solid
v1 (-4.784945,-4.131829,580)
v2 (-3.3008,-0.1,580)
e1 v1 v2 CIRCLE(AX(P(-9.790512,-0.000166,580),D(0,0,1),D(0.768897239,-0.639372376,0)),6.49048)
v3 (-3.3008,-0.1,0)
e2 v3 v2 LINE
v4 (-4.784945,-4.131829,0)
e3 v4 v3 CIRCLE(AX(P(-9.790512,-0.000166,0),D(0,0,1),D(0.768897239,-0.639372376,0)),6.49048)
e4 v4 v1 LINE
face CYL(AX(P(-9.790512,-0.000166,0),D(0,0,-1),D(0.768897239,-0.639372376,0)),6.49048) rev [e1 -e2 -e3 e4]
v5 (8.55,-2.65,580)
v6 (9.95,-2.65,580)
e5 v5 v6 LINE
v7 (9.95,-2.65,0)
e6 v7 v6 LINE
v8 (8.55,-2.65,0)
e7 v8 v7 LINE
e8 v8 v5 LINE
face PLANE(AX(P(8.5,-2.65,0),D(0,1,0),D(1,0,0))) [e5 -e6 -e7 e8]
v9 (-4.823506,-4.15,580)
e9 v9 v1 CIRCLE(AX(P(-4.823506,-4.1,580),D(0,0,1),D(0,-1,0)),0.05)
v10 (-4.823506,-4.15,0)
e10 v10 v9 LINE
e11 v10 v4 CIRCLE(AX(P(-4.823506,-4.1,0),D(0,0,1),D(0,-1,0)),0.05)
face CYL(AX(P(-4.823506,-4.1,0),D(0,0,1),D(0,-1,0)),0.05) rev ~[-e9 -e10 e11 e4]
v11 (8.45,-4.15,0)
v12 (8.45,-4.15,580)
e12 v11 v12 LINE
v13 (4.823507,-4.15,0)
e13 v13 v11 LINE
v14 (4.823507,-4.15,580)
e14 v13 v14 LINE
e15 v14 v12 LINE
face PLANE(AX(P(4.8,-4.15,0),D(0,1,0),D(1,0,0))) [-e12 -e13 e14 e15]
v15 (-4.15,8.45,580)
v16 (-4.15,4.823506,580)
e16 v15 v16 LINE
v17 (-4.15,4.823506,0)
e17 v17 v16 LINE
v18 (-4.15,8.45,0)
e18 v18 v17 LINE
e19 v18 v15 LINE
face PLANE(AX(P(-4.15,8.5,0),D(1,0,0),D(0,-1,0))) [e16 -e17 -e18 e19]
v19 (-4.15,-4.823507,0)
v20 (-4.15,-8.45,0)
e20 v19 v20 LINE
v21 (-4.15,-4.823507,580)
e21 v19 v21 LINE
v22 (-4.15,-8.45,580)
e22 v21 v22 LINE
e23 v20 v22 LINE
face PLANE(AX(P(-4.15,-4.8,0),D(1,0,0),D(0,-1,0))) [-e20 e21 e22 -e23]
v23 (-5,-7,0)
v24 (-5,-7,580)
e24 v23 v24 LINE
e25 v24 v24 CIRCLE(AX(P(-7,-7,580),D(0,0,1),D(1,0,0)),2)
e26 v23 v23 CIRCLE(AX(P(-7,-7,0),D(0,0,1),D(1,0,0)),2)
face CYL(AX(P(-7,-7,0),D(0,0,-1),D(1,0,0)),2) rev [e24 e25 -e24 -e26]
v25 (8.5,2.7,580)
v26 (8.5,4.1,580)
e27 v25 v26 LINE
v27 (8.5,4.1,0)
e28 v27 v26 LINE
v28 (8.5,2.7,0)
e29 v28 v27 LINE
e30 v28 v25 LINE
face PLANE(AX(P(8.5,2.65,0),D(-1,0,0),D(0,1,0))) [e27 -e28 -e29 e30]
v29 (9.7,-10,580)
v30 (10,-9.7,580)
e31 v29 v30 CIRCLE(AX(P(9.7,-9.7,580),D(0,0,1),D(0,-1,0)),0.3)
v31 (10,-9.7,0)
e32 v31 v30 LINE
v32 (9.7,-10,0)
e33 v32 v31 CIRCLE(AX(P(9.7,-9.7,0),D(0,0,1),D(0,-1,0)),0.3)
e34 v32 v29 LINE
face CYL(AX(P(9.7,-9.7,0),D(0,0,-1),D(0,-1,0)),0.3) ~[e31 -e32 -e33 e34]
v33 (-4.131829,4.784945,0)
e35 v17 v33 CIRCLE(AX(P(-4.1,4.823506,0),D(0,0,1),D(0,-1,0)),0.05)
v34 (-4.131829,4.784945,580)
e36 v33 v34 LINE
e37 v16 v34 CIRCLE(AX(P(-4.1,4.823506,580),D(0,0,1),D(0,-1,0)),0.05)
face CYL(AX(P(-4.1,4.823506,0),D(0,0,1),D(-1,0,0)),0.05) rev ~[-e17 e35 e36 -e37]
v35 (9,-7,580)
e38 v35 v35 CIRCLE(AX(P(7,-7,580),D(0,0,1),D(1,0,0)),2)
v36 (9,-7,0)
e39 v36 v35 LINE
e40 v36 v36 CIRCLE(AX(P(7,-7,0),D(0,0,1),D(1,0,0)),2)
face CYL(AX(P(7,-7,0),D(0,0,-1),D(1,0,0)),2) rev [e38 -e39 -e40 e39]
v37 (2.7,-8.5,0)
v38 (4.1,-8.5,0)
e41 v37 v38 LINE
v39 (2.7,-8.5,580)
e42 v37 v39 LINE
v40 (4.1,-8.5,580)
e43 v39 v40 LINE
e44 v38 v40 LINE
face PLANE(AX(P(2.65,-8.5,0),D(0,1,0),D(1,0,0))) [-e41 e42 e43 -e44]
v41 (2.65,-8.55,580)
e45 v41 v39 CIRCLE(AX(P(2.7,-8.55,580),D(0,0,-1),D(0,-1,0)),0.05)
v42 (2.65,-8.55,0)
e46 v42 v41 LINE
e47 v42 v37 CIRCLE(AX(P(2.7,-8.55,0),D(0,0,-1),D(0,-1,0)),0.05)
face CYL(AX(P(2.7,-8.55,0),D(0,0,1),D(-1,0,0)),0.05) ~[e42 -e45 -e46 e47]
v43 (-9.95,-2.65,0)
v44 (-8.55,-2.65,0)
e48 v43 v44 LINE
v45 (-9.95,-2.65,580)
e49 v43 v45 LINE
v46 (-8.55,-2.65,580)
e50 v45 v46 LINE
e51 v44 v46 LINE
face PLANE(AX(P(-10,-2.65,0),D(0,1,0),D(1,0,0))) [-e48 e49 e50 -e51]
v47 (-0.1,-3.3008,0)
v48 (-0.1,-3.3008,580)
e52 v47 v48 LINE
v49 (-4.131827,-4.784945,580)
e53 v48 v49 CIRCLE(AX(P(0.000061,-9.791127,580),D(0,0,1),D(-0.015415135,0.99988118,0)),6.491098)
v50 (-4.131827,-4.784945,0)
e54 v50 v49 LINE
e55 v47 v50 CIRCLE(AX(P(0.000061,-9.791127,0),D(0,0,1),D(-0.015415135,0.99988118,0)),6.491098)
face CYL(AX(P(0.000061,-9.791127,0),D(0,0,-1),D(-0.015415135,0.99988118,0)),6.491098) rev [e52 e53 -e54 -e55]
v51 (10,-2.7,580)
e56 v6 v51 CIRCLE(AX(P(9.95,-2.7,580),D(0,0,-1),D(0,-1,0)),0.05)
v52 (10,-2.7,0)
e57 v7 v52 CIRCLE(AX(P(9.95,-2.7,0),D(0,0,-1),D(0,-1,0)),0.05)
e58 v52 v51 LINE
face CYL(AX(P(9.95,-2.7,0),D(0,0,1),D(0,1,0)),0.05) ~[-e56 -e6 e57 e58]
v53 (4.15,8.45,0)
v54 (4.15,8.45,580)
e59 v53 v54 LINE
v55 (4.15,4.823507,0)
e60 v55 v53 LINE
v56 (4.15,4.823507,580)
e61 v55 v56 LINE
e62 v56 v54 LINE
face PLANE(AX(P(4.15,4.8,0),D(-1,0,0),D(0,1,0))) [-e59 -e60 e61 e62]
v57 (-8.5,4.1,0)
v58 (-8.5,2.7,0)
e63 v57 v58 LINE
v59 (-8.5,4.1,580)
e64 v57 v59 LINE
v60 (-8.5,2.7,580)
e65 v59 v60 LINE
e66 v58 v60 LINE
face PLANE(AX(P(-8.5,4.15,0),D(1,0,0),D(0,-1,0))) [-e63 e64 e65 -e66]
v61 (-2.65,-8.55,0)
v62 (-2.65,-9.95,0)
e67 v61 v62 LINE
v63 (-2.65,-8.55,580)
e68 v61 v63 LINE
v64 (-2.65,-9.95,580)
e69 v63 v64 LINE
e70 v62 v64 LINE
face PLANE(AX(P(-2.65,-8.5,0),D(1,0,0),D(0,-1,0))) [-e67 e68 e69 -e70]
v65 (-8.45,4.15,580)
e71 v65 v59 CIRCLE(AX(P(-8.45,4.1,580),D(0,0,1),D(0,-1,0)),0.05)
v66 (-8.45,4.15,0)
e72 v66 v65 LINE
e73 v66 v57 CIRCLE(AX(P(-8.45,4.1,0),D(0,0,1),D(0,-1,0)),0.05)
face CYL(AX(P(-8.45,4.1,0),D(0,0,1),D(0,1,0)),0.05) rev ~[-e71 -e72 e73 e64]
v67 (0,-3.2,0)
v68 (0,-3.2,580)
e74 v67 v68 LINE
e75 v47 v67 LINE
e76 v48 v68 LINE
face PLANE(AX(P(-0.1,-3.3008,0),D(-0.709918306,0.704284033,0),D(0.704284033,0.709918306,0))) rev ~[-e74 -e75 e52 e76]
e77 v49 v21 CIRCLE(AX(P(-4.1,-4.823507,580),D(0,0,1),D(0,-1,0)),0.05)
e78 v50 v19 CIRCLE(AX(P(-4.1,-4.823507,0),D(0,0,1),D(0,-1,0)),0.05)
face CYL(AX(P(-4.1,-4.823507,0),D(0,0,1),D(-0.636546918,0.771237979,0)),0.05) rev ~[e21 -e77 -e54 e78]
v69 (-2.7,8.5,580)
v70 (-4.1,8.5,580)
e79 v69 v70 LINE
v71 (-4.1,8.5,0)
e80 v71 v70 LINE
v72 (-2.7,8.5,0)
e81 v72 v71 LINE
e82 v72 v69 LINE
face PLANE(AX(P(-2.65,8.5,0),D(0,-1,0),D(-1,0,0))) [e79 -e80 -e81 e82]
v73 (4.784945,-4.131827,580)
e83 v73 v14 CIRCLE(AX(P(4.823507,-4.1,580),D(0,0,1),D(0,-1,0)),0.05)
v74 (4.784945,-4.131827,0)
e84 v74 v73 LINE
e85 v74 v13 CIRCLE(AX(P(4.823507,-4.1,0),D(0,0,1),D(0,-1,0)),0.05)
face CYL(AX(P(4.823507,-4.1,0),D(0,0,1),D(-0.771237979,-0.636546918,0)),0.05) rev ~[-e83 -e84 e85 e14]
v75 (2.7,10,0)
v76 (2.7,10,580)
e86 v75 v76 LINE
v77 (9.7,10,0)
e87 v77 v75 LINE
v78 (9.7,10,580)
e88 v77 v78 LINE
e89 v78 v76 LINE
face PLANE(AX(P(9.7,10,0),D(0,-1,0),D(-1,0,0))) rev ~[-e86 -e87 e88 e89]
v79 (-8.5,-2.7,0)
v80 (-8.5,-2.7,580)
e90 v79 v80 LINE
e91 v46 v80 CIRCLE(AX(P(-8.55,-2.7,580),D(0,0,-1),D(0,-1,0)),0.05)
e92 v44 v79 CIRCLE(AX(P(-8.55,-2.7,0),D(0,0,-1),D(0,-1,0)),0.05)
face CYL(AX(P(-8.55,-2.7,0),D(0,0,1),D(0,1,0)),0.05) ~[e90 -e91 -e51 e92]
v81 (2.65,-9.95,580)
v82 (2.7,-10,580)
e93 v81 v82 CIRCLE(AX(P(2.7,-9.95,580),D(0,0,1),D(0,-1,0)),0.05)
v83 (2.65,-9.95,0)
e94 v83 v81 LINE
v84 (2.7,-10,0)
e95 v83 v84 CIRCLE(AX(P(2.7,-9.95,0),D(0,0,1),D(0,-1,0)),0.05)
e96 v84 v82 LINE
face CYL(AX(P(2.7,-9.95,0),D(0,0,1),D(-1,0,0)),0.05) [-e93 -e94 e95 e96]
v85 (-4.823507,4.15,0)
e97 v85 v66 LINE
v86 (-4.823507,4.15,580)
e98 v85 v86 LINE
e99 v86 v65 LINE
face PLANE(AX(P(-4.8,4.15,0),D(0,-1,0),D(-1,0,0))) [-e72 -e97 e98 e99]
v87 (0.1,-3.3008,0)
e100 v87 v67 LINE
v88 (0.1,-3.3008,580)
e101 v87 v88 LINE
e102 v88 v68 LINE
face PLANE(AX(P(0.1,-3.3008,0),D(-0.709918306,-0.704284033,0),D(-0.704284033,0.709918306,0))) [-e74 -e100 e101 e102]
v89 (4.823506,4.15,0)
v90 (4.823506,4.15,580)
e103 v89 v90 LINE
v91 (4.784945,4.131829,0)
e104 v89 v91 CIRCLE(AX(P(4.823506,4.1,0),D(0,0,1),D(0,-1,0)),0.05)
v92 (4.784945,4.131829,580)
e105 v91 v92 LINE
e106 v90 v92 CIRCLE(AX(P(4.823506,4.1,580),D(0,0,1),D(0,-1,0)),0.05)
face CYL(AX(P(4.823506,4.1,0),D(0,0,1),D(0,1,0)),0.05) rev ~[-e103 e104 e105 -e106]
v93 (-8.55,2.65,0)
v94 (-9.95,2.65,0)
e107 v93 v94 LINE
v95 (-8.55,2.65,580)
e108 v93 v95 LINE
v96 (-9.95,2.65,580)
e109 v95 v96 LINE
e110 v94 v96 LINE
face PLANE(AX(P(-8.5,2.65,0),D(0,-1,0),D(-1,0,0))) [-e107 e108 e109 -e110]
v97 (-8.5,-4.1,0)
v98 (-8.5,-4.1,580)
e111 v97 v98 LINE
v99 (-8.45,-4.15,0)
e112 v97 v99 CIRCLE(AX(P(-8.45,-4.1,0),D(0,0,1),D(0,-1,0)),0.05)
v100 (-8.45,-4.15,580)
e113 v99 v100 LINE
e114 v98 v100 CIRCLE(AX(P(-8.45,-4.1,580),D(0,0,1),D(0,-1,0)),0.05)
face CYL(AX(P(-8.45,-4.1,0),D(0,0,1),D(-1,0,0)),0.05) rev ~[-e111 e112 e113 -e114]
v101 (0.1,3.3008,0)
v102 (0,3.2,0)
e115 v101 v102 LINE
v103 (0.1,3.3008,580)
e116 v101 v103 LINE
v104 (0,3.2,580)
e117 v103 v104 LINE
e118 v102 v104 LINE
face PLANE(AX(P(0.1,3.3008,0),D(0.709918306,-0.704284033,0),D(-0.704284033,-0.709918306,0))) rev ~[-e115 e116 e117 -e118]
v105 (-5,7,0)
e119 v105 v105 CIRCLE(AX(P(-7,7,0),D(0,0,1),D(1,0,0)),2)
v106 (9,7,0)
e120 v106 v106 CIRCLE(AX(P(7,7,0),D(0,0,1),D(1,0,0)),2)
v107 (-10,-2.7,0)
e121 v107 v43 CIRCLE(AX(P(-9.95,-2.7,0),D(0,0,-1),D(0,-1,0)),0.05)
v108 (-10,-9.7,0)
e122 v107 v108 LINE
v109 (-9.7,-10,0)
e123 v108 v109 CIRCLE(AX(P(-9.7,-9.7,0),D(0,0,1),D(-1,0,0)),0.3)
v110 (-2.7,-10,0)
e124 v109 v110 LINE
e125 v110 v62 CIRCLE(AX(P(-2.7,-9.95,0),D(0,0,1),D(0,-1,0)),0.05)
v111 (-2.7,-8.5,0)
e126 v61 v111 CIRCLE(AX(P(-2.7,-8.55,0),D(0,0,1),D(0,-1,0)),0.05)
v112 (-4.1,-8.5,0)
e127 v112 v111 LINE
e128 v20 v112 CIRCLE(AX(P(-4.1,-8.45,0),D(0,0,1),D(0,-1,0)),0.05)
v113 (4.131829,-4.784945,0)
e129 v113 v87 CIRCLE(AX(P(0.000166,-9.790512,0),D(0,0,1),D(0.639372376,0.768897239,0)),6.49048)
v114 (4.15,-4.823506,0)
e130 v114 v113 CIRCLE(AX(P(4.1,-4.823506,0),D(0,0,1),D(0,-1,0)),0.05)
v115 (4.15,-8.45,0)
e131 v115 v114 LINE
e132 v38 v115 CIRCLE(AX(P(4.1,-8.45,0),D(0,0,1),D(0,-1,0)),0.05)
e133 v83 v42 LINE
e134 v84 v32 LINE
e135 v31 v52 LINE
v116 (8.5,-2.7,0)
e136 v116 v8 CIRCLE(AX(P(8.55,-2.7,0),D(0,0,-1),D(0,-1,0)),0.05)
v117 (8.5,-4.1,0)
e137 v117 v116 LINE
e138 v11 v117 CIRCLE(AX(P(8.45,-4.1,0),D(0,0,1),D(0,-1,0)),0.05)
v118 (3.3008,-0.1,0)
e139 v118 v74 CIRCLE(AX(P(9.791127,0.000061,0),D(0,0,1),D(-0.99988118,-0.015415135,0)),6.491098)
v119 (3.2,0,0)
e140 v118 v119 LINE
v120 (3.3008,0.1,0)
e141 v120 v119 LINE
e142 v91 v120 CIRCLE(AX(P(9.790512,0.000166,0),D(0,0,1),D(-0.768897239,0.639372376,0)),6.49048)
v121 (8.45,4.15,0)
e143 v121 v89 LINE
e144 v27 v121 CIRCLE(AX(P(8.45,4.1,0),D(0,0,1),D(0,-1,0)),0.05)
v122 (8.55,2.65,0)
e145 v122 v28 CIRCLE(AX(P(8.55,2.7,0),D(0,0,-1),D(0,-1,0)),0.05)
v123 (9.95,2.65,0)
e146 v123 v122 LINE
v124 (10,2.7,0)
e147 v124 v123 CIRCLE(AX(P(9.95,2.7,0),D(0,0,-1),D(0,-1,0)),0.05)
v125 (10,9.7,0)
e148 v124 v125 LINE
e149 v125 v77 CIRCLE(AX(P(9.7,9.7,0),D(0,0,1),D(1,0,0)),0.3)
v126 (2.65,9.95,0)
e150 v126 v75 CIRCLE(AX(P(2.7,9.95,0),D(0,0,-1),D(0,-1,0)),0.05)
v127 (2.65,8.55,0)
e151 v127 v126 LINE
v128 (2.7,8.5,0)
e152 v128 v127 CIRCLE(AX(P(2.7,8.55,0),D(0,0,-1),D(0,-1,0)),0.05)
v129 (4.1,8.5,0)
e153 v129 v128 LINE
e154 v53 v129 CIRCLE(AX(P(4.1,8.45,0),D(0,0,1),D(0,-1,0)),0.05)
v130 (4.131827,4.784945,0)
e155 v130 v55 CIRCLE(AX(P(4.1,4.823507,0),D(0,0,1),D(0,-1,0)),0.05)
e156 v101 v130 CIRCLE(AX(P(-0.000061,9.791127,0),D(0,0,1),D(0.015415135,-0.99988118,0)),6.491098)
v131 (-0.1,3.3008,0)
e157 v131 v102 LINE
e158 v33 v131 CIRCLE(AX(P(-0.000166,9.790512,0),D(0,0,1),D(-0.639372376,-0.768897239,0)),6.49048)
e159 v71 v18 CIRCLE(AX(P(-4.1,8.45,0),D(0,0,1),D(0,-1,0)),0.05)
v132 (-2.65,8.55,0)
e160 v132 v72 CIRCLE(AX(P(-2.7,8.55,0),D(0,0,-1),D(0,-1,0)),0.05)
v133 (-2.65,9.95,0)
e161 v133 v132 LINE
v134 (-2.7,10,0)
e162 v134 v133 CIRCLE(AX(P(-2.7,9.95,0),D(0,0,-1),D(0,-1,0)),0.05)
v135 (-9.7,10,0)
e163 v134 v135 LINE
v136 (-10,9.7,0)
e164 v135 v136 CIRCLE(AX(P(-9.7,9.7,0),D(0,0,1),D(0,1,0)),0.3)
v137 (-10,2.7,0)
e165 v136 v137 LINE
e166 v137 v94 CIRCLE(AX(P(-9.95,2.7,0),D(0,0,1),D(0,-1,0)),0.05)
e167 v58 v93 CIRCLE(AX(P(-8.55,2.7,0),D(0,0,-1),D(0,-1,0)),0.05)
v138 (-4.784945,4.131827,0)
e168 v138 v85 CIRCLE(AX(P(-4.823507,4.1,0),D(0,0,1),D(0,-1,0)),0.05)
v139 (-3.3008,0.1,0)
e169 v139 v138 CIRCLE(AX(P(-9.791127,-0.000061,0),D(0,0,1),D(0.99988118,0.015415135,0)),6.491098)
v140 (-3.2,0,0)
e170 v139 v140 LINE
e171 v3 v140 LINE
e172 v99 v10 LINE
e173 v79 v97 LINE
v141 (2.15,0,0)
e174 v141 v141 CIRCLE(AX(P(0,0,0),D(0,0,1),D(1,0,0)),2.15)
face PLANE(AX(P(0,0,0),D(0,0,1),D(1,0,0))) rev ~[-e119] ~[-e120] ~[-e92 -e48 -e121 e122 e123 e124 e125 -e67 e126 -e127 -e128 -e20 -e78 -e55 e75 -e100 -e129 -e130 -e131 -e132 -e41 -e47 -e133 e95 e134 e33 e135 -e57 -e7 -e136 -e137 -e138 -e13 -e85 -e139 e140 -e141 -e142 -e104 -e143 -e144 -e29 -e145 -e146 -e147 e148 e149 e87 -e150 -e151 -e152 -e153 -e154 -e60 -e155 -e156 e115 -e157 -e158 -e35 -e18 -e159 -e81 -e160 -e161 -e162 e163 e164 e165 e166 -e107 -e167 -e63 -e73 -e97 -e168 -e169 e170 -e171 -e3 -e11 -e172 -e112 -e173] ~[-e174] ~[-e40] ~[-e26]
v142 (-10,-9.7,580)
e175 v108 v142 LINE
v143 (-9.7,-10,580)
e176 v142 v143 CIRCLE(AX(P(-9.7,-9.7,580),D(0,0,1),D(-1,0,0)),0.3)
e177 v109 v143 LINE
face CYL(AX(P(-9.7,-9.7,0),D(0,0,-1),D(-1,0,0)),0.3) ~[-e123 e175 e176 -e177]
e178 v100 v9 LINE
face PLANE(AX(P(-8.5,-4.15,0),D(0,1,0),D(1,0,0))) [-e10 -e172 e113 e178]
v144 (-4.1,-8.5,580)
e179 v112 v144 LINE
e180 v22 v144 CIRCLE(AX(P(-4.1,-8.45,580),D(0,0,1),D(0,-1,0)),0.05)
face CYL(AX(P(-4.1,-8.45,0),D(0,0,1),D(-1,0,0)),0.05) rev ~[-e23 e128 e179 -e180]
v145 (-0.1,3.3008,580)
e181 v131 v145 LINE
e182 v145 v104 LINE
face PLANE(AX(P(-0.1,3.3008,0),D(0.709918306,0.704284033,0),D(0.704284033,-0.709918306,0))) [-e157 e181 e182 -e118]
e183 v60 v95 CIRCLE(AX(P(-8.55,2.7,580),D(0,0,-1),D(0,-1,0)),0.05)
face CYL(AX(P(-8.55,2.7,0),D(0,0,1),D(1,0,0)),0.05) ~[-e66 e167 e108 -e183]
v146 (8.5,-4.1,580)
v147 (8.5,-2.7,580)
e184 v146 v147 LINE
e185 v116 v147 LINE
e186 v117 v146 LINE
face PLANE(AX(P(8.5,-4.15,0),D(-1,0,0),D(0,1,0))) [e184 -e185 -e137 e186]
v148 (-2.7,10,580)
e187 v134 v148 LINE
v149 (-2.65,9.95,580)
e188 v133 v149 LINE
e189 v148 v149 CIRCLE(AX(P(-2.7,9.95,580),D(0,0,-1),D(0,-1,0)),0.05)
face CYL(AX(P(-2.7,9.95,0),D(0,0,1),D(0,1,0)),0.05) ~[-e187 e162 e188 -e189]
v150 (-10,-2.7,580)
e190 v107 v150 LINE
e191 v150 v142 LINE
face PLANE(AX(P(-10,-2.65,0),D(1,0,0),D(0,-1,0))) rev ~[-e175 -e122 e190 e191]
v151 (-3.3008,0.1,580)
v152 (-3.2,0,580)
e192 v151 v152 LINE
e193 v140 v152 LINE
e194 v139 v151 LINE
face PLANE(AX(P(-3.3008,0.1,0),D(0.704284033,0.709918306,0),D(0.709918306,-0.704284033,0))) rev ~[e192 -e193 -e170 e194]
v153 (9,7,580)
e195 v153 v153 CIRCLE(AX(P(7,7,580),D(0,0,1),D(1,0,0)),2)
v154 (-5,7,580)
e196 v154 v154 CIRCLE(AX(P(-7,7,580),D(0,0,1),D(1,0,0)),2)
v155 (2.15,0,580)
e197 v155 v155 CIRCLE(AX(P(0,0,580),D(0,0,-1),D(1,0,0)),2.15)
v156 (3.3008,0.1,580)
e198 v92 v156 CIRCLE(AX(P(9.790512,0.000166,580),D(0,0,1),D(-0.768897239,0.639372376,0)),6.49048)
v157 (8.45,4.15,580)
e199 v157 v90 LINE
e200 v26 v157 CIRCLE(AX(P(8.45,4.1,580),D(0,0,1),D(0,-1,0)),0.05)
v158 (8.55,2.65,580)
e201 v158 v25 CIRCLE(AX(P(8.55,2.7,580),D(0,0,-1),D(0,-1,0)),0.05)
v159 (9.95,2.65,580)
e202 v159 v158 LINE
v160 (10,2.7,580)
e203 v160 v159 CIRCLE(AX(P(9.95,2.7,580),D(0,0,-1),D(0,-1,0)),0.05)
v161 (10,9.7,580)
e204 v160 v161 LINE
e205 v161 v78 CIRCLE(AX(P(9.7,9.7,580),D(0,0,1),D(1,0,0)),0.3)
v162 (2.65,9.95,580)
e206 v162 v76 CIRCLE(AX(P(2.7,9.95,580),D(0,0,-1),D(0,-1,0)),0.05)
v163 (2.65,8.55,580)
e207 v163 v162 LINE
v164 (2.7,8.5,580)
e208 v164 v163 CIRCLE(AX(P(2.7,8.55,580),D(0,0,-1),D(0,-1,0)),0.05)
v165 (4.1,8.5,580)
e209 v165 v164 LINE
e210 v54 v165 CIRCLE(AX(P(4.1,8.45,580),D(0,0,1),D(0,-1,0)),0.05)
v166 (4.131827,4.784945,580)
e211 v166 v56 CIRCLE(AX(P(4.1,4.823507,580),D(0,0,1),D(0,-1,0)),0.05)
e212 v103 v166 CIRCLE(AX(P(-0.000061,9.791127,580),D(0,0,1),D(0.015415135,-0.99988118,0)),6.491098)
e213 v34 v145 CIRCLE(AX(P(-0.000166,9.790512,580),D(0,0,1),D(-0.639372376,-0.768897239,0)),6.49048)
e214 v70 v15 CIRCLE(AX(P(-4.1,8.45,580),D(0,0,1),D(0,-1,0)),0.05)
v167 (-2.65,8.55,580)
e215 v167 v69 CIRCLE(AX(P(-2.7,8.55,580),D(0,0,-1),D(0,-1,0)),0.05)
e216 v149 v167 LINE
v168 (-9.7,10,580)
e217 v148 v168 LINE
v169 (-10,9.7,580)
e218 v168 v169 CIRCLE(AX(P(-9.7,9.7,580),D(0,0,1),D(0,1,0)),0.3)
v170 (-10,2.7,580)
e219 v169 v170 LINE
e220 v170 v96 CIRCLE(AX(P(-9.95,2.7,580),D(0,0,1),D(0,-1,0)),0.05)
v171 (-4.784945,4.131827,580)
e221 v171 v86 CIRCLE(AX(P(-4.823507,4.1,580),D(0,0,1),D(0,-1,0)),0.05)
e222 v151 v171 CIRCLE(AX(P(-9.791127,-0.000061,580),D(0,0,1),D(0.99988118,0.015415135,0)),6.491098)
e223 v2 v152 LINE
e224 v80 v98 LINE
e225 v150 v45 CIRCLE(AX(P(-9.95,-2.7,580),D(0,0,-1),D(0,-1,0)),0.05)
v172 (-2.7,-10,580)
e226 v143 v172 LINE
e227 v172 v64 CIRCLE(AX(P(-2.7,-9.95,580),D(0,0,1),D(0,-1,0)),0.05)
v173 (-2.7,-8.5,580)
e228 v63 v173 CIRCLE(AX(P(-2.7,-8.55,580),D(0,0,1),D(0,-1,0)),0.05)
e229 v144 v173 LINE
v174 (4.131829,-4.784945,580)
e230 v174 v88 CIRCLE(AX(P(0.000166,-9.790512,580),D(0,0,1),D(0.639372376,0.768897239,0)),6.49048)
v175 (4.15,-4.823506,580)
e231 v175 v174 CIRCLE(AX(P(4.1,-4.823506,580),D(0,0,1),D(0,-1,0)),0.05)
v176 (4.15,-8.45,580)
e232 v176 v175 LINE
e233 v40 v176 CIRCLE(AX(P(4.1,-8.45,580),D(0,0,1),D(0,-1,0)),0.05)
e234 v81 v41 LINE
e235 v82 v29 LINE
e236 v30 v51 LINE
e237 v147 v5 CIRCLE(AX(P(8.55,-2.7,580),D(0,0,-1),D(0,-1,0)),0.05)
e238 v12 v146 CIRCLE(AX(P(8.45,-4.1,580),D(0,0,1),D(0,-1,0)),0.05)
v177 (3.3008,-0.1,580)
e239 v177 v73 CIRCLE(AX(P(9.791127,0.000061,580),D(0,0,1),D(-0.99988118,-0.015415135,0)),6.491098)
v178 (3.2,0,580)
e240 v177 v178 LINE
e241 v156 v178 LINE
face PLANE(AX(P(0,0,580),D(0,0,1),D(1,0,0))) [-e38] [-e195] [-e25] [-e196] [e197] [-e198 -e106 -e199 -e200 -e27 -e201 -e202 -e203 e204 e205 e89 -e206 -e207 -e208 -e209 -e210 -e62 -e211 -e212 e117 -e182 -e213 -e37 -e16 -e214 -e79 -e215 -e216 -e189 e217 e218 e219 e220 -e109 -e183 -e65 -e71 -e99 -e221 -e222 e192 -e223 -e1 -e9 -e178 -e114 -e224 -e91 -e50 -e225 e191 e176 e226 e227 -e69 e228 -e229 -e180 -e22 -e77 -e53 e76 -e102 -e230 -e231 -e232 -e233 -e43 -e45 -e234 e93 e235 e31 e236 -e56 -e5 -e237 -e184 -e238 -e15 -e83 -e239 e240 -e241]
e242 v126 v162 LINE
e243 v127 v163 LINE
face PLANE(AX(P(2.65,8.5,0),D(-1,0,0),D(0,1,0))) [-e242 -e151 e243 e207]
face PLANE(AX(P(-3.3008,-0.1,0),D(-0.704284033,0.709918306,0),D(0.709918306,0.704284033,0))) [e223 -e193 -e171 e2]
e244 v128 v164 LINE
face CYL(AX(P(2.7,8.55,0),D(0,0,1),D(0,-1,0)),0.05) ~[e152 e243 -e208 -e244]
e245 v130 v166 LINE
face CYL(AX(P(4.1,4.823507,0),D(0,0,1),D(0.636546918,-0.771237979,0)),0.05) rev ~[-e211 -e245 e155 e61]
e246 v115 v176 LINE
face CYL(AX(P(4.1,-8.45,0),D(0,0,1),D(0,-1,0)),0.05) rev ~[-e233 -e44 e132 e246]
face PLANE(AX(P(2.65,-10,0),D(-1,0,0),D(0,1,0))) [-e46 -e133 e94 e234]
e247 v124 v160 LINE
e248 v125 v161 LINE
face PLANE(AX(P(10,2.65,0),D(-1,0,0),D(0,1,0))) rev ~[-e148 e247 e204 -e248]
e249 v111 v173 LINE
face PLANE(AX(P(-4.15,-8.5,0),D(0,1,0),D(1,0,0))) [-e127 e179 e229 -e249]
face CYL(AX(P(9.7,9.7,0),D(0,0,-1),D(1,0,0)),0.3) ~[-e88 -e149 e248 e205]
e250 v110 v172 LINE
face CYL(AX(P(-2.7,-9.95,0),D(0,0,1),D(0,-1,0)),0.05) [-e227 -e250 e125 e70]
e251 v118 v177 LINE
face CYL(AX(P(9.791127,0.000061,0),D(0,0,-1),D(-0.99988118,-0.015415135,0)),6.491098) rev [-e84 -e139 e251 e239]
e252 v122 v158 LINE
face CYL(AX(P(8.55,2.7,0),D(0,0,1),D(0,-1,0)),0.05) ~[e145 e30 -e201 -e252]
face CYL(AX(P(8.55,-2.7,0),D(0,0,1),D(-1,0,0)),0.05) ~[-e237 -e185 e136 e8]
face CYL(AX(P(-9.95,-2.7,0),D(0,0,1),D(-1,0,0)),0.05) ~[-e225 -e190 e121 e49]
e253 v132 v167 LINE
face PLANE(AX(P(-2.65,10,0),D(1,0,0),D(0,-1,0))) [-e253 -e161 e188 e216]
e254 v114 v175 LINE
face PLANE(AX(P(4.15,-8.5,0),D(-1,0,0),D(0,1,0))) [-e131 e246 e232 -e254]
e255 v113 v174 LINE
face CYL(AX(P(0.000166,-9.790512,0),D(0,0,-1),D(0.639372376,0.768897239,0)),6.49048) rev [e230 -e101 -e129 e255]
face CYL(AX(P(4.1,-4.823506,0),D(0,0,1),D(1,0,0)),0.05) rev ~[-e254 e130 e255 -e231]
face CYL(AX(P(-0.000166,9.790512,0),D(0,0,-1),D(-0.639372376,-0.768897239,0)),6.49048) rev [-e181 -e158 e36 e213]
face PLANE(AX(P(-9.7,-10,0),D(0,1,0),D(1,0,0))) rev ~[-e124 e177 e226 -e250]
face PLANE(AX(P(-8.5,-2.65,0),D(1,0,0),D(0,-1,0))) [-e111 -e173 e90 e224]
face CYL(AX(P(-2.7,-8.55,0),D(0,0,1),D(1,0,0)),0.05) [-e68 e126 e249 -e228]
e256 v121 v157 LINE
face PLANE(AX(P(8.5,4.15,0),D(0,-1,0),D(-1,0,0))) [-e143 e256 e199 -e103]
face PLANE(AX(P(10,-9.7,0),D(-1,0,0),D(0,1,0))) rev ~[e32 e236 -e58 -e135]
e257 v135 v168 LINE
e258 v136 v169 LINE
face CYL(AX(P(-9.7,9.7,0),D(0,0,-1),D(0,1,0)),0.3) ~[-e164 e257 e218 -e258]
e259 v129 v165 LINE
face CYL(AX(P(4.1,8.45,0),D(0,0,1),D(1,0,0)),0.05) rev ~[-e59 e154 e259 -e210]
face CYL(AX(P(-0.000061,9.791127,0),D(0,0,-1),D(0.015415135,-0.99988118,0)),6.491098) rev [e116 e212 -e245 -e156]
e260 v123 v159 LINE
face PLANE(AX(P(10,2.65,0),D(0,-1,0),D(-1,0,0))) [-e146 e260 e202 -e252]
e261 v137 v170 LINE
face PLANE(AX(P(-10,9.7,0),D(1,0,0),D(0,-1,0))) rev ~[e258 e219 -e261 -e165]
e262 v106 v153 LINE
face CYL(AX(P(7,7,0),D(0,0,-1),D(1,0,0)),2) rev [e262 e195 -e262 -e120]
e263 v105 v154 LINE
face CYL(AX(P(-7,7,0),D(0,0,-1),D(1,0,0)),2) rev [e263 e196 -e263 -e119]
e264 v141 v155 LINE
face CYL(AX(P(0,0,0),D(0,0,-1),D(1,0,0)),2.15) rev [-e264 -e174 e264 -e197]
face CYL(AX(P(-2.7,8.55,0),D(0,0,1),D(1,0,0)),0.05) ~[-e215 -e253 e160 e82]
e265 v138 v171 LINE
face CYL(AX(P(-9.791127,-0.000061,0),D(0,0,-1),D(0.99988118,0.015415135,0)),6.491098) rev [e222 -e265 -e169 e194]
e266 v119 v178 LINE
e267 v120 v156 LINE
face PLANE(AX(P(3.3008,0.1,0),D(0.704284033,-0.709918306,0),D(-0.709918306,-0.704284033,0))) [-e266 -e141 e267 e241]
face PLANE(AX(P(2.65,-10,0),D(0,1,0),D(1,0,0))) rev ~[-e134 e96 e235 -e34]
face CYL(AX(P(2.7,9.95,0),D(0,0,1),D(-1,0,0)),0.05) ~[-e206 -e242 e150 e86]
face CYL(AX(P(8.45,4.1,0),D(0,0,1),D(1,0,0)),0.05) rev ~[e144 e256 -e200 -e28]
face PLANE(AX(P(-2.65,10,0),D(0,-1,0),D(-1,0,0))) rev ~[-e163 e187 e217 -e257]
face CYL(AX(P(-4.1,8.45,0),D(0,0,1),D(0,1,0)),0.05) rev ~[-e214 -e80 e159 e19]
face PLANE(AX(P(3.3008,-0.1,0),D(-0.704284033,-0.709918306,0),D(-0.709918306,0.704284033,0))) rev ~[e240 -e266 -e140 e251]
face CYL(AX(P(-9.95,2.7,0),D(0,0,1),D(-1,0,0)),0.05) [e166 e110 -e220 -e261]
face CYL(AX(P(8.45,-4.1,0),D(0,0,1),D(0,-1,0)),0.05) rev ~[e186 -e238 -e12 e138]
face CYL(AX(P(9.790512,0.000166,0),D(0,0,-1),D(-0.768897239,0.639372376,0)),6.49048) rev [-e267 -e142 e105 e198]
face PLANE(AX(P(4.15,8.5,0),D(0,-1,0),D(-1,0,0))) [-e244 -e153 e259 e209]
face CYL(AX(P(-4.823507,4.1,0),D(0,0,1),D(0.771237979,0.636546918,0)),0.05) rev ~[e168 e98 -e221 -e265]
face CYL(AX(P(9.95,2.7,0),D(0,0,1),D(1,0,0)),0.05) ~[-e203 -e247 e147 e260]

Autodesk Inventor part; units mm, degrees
ref_plane "YZ Plane" through (0, 0, 0) normal (1, 0, 0) x (0, 1, 0)
ref_plane "XZ Plane" through (0, 0, 0) normal (0, 1, 0) x (-1, 0, 0)
ref_plane "XY Plane" through (0, 0, 0) normal (0, 0, 1) x (1, 0, 0)
sketch "스케치1" plane through (0, 0, 0) normal (0, 0, 1) x (1, 0, 0)
  line L0 (-9.7, -10) -> (9.7, -10)
  line L1 (10, -9.7) -> (10, 9.7)
  line L2 (9.7, 10) -> (-9.7, 10)
  line L3 (-10, 9.7) -> (-10, -9.7)
  line L4 (-10, -10) -> (10, 10) construction
  line L5 (10, -10) -> (-10, 10) construction
  circle A0 centre (-7, 7) radius 2
  line L6 (0, 15.6683) -> (0, -20)
  line L7 (-22.0072, 0) -> (22.0072, 0)
  circle A1 centre (0, 0) radius 2.15
  arc A2 (-9.7, 10) -> (-10, 9.7) centre (-9.7, 9.7) ccw
  arc A3 (10, 9.7) -> (9.7, 10) centre (9.7, 9.7) ccw
  arc A4 (9.7, -10) -> (10, -9.7) centre (9.7, -9.7) ccw
  arc A5 (-10, -9.7) -> (-9.7, -10) centre (-9.7, -9.7) ccw
  line L8 (-2.65, 10) -> (-2.65, 8.5)
  line L9 (-2.65, 8.5) -> (-4.15, 8.5)
  line L10 (-4.15, 8.5) -> (-4.15, 4.8)
  line L11 (4.15, 4.8) -> (4.15, 8.5)
  line L12 (4.15, 8.5) -> (2.65, 8.5)
  line L13 (2.65, 8.5) -> (2.65, 10)
  line L14 (-0.1, 3.3008) -> (0, 3.2)
  line L15 (0.1, 3.3008) -> (0, 3.2)
  arc A6 (-4.15, 4.8) -> (-0.1, 3.3008) centre (0, 9.7908) ccw
  arc A7 (0.1, 3.3008) -> (4.15, 4.8) centre (0, 9.7908) ccw
  circle A8 centre (7, 7) radius 2
  circle A9 centre (-7, -7) radius 2
  circle A10 centre (7, -7) radius 2
  line L16 (-3.3008, 0.1) -> (-3.2, 0)
  line L17 (-3.3008, -0.1) -> (-3.2, 0)
  arc A11 (-4.8, -4.15) -> (-3.3008, -0.1) centre (-9.7908, 0) ccw
  line L18 (-8.5, -4.15) -> (-4.8, -4.15)
  line L19 (-10, -2.65) -> (-8.5, -2.65)
  line L20 (-8.5, 2.65) -> (-10, 2.65)
  arc A12 (-3.3008, 0.1) -> (-4.8, 4.15) centre (-9.7908, 0) ccw
  line L21 (-4.8, 4.15) -> (-8.5, 4.15)
  line L22 (-8.5, 4.15) -> (-8.5, 2.65)
  line L23 (-8.5, -2.65) -> (-8.5, -4.15)
  line L24 (-0.1, -3.3008) -> (0, -3.2)
  line L25 (0.1, -3.3008) -> (0, -3.2)
  arc A13 (4.15, -4.8) -> (0.1, -3.3008) centre (0, -9.7908) ccw
  line L26 (4.15, -8.5) -> (4.15, -4.8)
  line L27 (2.65, -10) -> (2.65, -8.5)
  line L28 (-2.65, -8.5) -> (-2.65, -10)
  arc A14 (-0.1, -3.3008) -> (-4.15, -4.8) centre (0, -9.7908) ccw
  line L29 (-4.15, -4.8) -> (-4.15, -8.5)
  line L30 (-4.15, -8.5) -> (-2.65, -8.5)
  line L31 (2.65, -8.5) -> (4.15, -8.5)
  line L32 (3.3008, -0.1) -> (3.2, 0)
  line L33 (3.3008, 0.1) -> (3.2, 0)
  arc A15 (4.8, 4.15) -> (3.3008, 0.1) centre (9.7908, 0) ccw
  line L34 (8.5, 4.15) -> (4.8, 4.15)
  line L35 (10, 2.65) -> (8.5, 2.65)
  line L36 (8.5, -2.65) -> (10, -2.65)
  arc A16 (3.3008, -0.1) -> (4.8, -4.15) centre (9.7908, 0) ccw
  line L37 (4.8, -4.15) -> (8.5, -4.15)
  line L38 (8.5, -4.15) -> (8.5, -2.65)
  line L39 (8.5, 2.65) -> (8.5, 4.15)
  point P0 (2.65, 9.25)
  point P1 (-2.65, 9.25)
  point P2 (-4.15, 6.65)
  point P3 (0, 3.3)
  point P4 (-3.3, 0)
  point P5 (-9.25, -2.65)
  point P6 (-6.65, -4.15)
  point P7 (-9.25, 2.65)
  point P8 (0, -3.3)
  point P9 (2.65, -9.25)
  point P10 (4.15, -6.65)
  point P11 (-2.65, -9.25)
  point P12 (3.3, 0)
  point P13 (9.25, 2.65)
  point P14 (6.65, 4.15)
  point P15 (9.25, -2.65)
  dimension "d0" = 20
  dimension "d1" = 20
  dimension "d2" = 4
  dimension "d3" = 14
  dimension "d4" = 14
  dimension "d5" = 4.3
  dimension "d6" = 0.3
  dimension "d9" = 8.3
  dimension "d10" = 5.3
  dimension "d11" = 5.3
  dimension "d12" = 1.5
  dimension "d15" = 0.1
  dimension "d16" = 0.1
  dimension "d17" = 0.1
  dimension "d19" = 3.7
  dimension "d22" = 360
extrude "프로파일 길이 설정" add sketch "스케치1" along normal blind 580 contours A5 L3 L19 L23 L18 A11 L17 L7 A1 L6 L24 A14 L29 L30 L28 L0 | L27 L31 L26 A13 L25 L6 A1 L7 L32 A16 L37 L38 L36 L1 A4 L0 | L3 A2 L2 L8 L9 L10 A6 L14 L6 A1 L7 L16 A12 L21 L22 L20 | A1 L6 L15 A7 L11 L12 L13 L2 A3 L1 L35 L39 L34 A15 L33 L7
fillet "모서리" radius 0.05 32 edges at (10, 2.65, 290) (8.5, 2.65, 290) (8.5, 4.15, 290) (10, -2.65, 290) (8.5, -2.65, 290) (8.5, -4.15, 290) (2.65, 8.5, 290) (2.65, 10, 290) (4.15, 8.5, 290) (-4.15, 8.5, 290) (-2.65, 8.5, 290) (-2.65, 10, 290) (-10, 2.65, 290) (-8.5, 2.65, 290) (-8.5, 4.15, 290) (-8.5, -4.15, 290) (-8.5, -2.65, 290) (-10, -2.65, 290) (-2.65, -10, 290) (-2.65, -8.5, 290) (-4.15, -8.5, 290) (2.65, -8.5, 290) (4.15, -8.5, 290) (2.65, -10, 290) (4.15, -4.8, 290) (-4.15, -4.8, 290) (-4.8, -4.15, 290) (-4.8, 4.15, 290) (-4.15, 4.8, 290) (4.15, 4.8, 290) (4.8, -4.15, 290) (4.8, 4.15, 290)
equation "\"d0\" = d1"
equation "\"d11\" = d10"
equation "\"d17\" = d16"
properties part number "20x20 Profile"
